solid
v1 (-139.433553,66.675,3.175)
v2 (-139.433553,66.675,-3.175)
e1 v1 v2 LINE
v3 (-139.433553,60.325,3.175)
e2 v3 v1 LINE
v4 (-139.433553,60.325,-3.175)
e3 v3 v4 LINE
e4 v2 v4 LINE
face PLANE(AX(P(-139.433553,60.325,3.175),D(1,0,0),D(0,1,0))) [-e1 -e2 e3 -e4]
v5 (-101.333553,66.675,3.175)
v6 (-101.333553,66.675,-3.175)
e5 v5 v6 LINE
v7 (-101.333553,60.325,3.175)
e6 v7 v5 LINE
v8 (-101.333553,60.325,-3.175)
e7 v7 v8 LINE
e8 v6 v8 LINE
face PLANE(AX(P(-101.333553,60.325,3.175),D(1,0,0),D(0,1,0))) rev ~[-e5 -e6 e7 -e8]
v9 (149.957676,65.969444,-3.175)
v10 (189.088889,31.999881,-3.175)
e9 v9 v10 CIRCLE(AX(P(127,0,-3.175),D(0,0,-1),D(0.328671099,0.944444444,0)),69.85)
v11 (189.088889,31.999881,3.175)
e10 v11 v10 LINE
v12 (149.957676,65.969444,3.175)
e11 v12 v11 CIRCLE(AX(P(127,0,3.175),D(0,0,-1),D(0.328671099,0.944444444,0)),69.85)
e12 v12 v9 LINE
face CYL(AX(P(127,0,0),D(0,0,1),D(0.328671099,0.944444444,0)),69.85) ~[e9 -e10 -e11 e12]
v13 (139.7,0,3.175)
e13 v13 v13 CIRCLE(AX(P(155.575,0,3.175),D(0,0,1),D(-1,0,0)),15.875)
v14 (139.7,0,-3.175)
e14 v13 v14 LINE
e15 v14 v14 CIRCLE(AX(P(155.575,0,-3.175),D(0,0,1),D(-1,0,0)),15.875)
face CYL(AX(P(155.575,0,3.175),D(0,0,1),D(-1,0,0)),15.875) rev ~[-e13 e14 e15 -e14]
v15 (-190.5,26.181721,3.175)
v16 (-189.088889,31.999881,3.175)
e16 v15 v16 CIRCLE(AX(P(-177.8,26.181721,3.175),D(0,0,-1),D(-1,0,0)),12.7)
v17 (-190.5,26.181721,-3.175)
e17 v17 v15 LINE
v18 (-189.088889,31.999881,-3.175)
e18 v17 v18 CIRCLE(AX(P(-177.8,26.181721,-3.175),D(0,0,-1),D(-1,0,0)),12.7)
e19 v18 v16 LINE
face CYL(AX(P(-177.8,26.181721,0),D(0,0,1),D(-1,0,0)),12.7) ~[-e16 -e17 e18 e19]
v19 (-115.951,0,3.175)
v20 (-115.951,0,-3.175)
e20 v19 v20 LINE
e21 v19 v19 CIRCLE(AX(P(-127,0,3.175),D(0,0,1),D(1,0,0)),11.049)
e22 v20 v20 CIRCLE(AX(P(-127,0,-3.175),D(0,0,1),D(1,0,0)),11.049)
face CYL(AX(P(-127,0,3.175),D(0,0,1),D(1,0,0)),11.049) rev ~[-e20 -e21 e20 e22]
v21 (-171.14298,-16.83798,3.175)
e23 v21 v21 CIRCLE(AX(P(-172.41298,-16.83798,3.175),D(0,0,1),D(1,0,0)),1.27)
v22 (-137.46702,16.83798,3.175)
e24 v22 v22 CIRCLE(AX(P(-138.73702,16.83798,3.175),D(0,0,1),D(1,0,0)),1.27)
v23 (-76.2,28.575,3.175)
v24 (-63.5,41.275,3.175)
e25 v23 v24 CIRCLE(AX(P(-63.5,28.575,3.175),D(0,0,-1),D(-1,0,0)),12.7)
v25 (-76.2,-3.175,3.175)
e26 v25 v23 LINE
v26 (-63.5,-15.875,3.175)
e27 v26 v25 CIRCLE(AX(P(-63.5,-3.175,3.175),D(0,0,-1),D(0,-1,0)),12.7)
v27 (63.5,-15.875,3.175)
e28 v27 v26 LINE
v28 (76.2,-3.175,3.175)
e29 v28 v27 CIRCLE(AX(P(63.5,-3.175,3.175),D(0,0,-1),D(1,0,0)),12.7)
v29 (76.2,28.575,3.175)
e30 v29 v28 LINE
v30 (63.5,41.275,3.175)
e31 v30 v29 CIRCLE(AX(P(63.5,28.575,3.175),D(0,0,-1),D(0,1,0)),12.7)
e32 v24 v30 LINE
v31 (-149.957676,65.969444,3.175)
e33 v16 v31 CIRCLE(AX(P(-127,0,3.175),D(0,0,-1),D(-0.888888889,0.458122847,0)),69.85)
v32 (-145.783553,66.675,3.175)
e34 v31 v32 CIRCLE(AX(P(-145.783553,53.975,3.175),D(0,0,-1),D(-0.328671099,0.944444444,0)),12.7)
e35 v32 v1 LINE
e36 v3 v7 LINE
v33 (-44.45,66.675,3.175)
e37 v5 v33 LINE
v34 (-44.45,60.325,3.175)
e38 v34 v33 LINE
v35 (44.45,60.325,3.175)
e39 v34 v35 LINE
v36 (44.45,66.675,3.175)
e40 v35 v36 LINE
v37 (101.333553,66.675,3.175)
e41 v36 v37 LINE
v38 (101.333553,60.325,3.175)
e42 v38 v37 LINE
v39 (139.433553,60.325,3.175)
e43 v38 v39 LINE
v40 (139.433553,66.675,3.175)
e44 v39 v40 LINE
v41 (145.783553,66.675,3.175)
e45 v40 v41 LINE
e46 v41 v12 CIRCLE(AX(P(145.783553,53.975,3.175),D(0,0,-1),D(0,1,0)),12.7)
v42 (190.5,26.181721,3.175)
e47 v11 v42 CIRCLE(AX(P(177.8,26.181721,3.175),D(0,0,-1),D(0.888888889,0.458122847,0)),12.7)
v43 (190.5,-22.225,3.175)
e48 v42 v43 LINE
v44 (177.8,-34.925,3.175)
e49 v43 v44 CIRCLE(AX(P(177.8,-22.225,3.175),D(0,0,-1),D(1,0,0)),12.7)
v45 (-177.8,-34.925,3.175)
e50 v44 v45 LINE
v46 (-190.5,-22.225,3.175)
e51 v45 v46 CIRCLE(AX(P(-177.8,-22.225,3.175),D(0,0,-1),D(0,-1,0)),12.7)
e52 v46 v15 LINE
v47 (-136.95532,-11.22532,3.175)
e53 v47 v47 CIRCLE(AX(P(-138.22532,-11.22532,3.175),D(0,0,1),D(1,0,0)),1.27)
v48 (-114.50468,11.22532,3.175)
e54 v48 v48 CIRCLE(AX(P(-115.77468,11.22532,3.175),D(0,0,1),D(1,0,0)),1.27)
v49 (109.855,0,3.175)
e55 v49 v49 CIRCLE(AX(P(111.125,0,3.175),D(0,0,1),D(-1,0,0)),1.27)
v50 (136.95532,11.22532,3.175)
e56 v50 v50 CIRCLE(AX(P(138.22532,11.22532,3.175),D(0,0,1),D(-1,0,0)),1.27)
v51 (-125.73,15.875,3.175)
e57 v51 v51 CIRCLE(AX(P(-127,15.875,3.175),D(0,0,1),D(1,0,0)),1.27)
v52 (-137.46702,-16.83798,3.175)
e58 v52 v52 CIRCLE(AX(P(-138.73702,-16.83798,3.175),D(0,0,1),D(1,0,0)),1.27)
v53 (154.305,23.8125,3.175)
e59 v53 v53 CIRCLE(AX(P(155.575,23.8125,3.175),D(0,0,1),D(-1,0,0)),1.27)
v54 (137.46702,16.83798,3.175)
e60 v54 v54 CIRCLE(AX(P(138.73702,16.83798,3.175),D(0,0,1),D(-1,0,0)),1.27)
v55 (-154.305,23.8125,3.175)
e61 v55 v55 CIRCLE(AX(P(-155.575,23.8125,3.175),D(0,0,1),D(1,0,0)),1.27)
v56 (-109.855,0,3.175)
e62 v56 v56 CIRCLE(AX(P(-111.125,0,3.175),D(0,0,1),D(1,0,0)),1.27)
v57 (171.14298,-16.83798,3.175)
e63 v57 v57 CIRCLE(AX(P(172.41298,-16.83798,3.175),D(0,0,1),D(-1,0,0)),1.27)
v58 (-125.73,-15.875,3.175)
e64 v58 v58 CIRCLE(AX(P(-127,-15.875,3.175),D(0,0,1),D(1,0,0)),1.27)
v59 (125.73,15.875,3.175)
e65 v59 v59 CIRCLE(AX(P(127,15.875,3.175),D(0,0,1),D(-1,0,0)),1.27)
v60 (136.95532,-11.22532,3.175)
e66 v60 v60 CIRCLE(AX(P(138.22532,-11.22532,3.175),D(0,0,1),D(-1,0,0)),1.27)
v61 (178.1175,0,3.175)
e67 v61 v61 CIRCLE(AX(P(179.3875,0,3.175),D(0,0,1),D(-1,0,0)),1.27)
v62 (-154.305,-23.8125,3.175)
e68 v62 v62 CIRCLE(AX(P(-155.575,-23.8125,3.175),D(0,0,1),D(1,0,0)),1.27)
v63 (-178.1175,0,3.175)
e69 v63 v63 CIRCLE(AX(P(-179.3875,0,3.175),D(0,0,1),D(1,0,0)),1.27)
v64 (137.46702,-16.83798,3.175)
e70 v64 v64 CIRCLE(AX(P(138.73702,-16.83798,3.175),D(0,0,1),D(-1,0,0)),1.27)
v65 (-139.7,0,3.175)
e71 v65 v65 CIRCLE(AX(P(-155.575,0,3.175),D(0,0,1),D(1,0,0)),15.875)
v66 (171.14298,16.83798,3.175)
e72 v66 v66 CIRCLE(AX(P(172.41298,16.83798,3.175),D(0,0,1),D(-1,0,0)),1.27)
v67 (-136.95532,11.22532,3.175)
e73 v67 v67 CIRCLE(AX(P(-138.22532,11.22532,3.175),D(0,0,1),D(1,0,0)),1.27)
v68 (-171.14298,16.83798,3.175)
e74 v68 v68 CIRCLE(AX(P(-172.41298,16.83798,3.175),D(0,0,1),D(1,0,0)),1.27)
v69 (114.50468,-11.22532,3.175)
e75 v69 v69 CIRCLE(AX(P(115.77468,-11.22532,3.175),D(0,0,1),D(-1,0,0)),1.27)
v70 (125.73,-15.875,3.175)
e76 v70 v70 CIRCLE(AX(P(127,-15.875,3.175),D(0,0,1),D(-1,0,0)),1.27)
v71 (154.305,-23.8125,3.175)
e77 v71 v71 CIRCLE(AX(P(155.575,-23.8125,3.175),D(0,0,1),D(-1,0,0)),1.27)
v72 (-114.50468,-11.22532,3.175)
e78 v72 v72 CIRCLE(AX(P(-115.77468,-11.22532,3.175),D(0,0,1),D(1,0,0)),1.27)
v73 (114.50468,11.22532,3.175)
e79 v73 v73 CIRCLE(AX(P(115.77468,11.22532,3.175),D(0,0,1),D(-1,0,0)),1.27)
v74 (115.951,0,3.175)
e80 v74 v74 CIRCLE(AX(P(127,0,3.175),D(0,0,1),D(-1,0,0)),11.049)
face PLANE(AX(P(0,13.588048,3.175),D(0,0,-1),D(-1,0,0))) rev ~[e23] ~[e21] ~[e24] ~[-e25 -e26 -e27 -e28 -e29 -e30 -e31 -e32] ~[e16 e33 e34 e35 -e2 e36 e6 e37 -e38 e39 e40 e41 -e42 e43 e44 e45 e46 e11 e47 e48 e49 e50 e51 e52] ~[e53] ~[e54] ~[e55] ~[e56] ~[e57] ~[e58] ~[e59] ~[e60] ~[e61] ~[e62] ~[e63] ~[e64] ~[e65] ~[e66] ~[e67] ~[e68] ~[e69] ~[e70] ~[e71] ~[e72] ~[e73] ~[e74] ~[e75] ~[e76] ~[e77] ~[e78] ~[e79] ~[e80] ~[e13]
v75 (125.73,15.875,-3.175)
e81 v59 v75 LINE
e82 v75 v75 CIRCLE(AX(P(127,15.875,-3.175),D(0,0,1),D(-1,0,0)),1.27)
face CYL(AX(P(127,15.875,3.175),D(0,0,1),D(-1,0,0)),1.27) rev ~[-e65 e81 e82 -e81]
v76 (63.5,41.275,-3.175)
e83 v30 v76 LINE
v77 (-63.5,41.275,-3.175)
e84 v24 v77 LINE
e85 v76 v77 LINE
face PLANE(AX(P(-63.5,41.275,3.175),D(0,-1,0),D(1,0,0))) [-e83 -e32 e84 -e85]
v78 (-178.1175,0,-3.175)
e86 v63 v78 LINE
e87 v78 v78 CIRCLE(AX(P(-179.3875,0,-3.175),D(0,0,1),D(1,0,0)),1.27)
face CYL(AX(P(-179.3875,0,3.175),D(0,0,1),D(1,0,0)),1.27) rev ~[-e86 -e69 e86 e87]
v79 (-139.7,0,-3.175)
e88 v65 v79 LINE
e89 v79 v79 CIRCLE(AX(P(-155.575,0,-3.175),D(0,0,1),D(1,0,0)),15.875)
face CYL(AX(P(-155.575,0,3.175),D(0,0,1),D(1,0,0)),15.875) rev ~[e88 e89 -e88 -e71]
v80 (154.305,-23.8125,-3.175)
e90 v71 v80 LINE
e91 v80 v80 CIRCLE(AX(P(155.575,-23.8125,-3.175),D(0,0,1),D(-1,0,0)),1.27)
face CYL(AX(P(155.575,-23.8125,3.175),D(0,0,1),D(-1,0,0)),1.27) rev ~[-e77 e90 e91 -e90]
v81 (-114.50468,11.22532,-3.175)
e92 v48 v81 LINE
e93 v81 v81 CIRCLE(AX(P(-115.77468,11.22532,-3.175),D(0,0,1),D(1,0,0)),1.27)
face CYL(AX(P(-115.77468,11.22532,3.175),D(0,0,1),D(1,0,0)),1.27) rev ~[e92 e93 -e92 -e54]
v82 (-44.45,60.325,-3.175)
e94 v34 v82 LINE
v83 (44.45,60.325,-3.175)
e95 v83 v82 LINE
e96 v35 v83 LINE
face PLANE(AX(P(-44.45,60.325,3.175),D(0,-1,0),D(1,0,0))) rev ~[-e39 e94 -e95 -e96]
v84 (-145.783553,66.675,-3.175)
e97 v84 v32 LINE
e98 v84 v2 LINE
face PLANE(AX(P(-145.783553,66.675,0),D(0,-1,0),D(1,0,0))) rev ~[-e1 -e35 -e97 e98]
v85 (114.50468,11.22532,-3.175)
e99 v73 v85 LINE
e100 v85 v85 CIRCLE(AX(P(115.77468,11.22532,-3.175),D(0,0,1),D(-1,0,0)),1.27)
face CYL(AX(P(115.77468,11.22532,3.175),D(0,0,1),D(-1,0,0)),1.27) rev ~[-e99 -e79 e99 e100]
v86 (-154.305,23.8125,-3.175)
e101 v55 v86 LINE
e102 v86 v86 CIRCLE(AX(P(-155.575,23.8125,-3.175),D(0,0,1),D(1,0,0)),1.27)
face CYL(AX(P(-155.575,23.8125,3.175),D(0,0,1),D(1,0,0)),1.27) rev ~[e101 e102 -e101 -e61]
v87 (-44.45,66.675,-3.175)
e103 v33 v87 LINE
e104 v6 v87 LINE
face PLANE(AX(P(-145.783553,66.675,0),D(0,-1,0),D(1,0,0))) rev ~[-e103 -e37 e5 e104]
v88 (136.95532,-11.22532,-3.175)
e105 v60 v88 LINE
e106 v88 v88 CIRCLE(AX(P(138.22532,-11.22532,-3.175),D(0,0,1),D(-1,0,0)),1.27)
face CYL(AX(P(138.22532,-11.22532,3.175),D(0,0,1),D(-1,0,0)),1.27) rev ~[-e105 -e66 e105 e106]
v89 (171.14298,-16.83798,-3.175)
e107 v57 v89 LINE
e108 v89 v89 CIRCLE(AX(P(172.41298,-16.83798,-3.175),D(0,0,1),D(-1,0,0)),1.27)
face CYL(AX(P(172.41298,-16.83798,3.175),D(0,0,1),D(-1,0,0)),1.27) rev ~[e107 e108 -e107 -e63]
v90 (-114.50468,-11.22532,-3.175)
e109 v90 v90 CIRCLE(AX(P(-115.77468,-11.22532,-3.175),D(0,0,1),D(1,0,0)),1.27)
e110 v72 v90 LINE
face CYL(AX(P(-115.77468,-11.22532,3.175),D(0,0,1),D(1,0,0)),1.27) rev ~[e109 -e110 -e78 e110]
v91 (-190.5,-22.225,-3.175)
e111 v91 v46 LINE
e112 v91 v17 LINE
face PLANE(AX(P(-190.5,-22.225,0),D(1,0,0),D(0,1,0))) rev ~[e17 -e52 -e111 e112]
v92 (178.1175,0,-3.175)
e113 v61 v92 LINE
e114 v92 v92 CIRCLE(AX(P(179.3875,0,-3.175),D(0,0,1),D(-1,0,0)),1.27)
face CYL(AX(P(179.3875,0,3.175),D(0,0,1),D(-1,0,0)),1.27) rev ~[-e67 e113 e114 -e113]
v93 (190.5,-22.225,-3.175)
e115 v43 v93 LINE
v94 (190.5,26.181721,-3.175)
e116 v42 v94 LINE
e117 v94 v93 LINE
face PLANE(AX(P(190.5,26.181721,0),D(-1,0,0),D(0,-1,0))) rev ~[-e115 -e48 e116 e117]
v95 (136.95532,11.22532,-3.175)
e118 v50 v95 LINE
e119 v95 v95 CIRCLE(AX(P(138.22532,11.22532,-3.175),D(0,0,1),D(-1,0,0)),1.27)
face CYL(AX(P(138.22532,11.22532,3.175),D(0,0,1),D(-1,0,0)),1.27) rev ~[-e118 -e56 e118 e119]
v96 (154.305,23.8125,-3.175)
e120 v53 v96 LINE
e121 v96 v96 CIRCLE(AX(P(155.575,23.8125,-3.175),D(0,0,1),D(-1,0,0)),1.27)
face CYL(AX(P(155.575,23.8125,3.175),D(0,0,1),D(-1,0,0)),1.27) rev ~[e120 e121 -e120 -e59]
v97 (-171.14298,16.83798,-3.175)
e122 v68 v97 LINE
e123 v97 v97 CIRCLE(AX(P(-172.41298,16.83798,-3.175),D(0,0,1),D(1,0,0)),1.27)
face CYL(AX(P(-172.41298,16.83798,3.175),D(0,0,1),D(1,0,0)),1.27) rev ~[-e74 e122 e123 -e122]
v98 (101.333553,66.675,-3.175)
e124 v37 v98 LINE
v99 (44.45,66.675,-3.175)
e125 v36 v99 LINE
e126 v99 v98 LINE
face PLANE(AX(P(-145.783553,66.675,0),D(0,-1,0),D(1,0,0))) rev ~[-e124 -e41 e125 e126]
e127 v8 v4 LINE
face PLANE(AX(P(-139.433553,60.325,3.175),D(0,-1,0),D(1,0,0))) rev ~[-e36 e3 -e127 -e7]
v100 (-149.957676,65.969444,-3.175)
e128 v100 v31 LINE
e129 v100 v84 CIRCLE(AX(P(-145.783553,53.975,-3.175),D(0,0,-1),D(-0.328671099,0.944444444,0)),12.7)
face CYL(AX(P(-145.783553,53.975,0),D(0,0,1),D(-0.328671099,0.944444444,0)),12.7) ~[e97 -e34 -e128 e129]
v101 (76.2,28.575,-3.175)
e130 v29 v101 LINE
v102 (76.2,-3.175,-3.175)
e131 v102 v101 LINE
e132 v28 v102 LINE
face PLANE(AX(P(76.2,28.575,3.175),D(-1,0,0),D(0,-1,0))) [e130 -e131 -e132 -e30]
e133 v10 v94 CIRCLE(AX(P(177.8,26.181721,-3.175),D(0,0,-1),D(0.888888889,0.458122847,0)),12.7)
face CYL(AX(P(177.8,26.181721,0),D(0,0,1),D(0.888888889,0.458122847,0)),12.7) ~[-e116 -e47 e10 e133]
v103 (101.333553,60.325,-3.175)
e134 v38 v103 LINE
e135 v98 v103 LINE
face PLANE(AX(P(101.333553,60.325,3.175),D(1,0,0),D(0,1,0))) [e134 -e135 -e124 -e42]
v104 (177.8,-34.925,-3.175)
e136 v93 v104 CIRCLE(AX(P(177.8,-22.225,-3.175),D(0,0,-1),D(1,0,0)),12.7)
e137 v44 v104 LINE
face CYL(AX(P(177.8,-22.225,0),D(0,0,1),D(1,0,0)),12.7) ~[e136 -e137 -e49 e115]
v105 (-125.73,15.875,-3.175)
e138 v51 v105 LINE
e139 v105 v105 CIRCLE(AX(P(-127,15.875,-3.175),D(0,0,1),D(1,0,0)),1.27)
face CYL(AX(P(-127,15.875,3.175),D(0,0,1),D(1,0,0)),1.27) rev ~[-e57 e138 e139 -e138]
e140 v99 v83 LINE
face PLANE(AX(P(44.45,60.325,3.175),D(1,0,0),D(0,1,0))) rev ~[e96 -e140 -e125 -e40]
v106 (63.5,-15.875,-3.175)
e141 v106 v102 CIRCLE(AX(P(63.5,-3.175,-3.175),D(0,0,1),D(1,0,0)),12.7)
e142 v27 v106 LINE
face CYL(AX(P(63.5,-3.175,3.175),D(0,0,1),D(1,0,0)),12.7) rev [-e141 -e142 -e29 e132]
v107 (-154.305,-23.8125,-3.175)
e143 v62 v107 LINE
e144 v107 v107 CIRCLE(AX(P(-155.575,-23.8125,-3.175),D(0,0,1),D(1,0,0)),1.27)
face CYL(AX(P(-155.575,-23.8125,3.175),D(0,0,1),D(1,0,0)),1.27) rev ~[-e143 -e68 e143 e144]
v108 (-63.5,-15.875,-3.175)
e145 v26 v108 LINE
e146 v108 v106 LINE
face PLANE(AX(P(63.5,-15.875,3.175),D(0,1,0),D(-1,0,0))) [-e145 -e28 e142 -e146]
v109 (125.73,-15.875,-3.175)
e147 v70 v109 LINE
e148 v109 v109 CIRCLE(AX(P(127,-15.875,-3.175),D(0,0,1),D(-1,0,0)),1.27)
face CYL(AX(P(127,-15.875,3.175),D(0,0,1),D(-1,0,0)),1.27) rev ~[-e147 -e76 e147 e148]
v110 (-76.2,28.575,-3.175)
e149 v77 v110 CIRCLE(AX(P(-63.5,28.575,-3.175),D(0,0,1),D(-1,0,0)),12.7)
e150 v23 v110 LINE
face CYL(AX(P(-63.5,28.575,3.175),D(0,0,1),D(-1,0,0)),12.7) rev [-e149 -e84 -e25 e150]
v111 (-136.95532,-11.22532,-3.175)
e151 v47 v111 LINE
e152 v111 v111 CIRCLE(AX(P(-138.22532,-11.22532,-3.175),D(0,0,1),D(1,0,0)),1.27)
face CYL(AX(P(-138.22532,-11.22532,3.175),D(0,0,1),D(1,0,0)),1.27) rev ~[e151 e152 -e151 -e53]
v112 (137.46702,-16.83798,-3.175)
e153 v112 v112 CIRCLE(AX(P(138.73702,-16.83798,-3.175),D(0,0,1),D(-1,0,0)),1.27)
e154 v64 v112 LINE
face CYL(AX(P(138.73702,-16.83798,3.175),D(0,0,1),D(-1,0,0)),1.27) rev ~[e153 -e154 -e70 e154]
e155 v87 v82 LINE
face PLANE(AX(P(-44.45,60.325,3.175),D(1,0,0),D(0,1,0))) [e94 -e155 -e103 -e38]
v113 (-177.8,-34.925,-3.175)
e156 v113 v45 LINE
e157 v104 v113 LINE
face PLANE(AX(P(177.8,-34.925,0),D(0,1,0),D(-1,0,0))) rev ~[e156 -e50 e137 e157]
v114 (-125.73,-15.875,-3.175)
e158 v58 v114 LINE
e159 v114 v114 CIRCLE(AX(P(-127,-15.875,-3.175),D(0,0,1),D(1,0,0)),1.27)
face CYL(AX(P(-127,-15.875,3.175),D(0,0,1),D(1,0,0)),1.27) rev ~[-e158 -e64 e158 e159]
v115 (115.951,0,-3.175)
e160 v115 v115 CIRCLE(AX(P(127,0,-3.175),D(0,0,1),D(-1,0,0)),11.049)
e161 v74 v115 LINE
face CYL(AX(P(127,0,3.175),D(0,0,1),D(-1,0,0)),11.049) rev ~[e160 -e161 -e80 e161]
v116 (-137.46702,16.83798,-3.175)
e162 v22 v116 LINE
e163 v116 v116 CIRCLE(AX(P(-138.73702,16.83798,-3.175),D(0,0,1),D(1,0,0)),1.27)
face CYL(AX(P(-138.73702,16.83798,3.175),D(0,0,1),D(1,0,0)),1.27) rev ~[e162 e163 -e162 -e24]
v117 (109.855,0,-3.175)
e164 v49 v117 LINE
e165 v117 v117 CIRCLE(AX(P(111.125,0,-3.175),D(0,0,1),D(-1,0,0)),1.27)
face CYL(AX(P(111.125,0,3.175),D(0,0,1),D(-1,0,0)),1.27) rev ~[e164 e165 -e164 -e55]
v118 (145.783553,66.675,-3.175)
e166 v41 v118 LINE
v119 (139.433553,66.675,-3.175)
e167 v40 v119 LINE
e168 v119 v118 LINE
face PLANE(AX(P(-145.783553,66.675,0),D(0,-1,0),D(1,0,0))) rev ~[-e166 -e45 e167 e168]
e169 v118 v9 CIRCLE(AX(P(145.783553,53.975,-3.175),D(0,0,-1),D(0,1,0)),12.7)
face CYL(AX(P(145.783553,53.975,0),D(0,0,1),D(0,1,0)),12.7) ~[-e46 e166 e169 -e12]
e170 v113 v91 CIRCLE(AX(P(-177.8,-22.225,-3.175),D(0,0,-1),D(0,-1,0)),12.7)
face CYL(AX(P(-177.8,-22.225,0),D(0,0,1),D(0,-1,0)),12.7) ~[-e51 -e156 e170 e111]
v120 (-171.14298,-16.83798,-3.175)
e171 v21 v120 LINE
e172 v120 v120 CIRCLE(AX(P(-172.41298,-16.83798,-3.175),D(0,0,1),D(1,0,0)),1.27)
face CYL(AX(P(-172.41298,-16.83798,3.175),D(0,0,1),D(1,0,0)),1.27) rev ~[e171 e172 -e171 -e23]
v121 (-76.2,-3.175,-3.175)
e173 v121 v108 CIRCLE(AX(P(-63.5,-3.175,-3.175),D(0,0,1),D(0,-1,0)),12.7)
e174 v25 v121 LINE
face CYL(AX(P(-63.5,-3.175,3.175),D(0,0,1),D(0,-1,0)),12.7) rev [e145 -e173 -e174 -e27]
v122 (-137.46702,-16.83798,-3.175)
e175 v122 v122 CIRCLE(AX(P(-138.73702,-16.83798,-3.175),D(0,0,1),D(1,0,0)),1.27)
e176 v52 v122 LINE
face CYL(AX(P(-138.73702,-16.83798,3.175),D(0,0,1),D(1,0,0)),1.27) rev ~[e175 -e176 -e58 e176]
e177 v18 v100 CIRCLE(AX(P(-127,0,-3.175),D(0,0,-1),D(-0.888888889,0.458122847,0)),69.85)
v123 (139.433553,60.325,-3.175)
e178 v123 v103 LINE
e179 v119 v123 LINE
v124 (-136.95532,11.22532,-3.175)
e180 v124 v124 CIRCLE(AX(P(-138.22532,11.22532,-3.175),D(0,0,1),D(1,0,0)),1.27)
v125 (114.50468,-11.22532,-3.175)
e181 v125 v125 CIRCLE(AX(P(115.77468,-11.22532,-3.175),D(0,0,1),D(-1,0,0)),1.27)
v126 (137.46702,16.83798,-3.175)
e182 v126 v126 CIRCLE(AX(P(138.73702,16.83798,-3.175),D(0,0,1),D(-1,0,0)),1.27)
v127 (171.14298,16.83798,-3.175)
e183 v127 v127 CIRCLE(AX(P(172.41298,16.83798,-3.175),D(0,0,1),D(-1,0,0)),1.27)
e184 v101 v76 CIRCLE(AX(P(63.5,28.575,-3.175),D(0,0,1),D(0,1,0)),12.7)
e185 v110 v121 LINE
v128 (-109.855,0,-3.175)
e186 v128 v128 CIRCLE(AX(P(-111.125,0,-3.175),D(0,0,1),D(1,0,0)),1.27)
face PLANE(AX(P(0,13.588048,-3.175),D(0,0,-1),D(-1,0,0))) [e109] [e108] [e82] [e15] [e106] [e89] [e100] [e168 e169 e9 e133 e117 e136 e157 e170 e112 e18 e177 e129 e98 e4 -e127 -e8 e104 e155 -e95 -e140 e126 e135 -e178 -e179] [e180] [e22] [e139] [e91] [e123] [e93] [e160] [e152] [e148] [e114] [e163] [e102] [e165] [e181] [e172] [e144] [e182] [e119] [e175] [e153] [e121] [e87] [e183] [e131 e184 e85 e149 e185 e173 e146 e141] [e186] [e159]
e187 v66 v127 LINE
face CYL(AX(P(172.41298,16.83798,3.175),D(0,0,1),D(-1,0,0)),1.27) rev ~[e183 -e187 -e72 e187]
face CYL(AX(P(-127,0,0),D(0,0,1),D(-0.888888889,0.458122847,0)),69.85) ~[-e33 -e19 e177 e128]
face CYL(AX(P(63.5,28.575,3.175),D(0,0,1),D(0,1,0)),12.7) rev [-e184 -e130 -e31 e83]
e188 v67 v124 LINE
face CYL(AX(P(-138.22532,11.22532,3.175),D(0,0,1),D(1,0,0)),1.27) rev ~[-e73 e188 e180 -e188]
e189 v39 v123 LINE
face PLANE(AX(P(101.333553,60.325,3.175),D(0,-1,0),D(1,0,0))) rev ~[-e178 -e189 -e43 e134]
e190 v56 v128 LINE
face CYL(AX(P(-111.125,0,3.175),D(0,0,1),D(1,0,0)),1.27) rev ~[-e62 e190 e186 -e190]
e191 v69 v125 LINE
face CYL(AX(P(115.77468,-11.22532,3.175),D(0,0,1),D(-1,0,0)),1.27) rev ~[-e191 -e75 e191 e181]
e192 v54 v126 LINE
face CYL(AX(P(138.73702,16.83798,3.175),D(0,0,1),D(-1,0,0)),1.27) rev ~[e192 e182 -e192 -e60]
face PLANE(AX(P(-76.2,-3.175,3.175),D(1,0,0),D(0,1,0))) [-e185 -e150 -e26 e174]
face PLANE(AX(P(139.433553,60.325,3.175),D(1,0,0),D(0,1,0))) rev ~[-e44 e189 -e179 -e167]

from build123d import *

# Parameters (mm, degrees)
SKETCH1_R           = 3.175
BOSS_EXTRUDE1_DEPTH = 3.175
SKETCH2_R           = 11.049
SKETCH2_R_2         = 15.875
SKETCH2_R_3         = 1.27
CUT_EXTRUDE1_DEPTH  = 202.930998425
SKETCH3_W           = 38.1
SKETCH3_H           = 6.35
SKETCH3_W_2         = 88.9
CUT_EXTRUDE4_DEPTH  = 202.930998425
CUT_EXTRUDE5_DEPTH  = 202.930998425


with BuildPart() as part:
    # Sketch1 → Boss-Extrude1 (new, symmetric)
    with BuildSketch(Plane.XY):
        with BuildLine():
            Line((-145.783553311, 66.675), (145.783553311, 66.675))
            ThreePointArc((145.783553311, 66.675), (147.900219978, 66.497368874), (149.957676269, 65.969444444))
            ThreePointArc((149.957676269, 65.969444444), (172.789871953, 52.74760778), (189.088888889, 31.999880883))
            ThreePointArc((189.088888889, 31.999880883), (190.142181511, 29.17513943), (190.5, 26.181720723))
            Line((190.5, 26.181720723), (190.5, -22.225))
            ThreePointArc((190.5, -22.225), (186.780256121, -31.205256121), (177.8, -34.925))
            Line((177.8, -34.925), (-177.8, -34.925))
            ThreePointArc((-177.8, -34.925), (-186.780256121, -31.205256121), (-190.5, -22.225))
            Line((-190.5, -22.225), (-190.5, 26.181720723))
            ThreePointArc((-190.5, 26.181720723), (-190.142181511, 29.17513943), (-189.088888889, 31.999880883))
            ThreePointArc((-189.088888889, 31.999880883), (-172.789871953, 52.74760778), (-149.957676269, 65.969444444))
            ThreePointArc((-149.957676269, 65.969444444), (-147.900219978, 66.497368874), (-145.783553311, 66.675))
        make_face()
        with Locations((-127, 0)):
            Circle(SKETCH1_R, mode=Mode.SUBTRACT)
        with Locations((127, 0)):
            Circle(SKETCH1_R, mode=Mode.SUBTRACT)
    extrude(amount=BOSS_EXTRUDE1_DEPTH, both=True)

    # Sketch2 → Cut-Extrude1 (cut, through all)
    with BuildSketch(Plane.XY.offset(3.175)):
        with Locations((-127, 0)):
            Circle(SKETCH2_R)
        with Locations((-155.575, 0)):
            Circle(SKETCH2_R_2)
        with Locations((-155.575, 23.8125)):
            Circle(SKETCH2_R_3)
        with Locations((-138.737019773, 16.837980227)):
            Circle(SKETCH2_R_3)
        with Locations((-138.737019773, -16.837980227)):
            Circle(SKETCH2_R_3)
        with Locations((-155.575, -23.8125)):
            Circle(SKETCH2_R_3)
        with Locations((-172.412980227, -16.837980227)):
            Circle(SKETCH2_R_3)
        with Locations((-179.3875, 0)):
            Circle(SKETCH2_R_3)
        with Locations((-172.412980227, 16.837980227)):
            Circle(SKETCH2_R_3)
        with Locations((-127, 15.875)):
            Circle(SKETCH2_R_3)
        with Locations((-115.774679849, 11.225320151)):
            Circle(SKETCH2_R_3)
        with Locations((-111.125, 0)):
            Circle(SKETCH2_R_3)
        with Locations((-115.774679849, -11.225320151)):
            Circle(SKETCH2_R_3)
        with Locations((-127, -15.875)):
            Circle(SKETCH2_R_3)
        with Locations((-138.225320151, -11.225320151)):
            Circle(SKETCH2_R_3)
        with Locations(Location((138.225320151, 11.225320151, 0), (0, 0, 180))):
            Circle(SKETCH2_R_3)
        with Locations((-138.225320151, 11.225320151)):
            Circle(SKETCH2_R_3)
        with Locations(Location((138.225320151, -11.225320151, 0), (0, 0, 180))):
            Circle(SKETCH2_R_3)
        with Locations(Location((127, -15.875, 0), (0, 0, 180))):
            Circle(SKETCH2_R_3)
        with Locations(Location((115.774679849, -11.225320151, 0), (0, 0, 180))):
            Circle(SKETCH2_R_3)
        with Locations(Location((111.125, 0, 0), (0, 0, 180))):
            Circle(SKETCH2_R_3)
        with Locations(Location((115.774679849, 11.225320151, 0), (0, 0, 180))):
            Circle(SKETCH2_R_3)
        with Locations(Location((127, 15.875, 0), (0, 0, 180))):
            Circle(SKETCH2_R_3)
        with Locations(Location((172.412980227, 16.837980227, 0), (0, 0, 180))):
            Circle(SKETCH2_R_3)
        with Locations(Location((179.3875, 0, 0), (0, 0, 180))):
            Circle(SKETCH2_R_3)
        with Locations(Location((172.412980227, -16.837980227, 0), (0, 0, 180))):
            Circle(SKETCH2_R_3)
        with Locations(Location((155.575, -23.8125, 0), (0, 0, 180))):
            Circle(SKETCH2_R_3)
        with Locations(Location((138.737019773, -16.837980227, 0), (0, 0, 180))):
            Circle(SKETCH2_R_3)
        with Locations(Location((138.737019773, 16.837980227, 0), (0, 0, 180))):
            Circle(SKETCH2_R_3)
        with Locations(Location((155.575, 23.8125, 0), (0, 0, 180))):
            Circle(SKETCH2_R_3)
        with Locations(Location((155.575, 0, 0), (0, 0, 180))):
            Circle(SKETCH2_R_2)
        with Locations(Location((127, 0, 0), (0, 0, 180))):
            Circle(SKETCH2_R)
    extrude(amount=-CUT_EXTRUDE1_DEPTH, mode=Mode.SUBTRACT)

    # Sketch3 → Cut-Extrude4 (cut, through all)
    with BuildSketch(Plane.XY.offset(3.175)):
        with Locations((-120.383553311, 63.5)):
            Rectangle(SKETCH3_W, SKETCH3_H)
        with Locations((120.383553311, 63.5)):
            Rectangle(SKETCH3_W, SKETCH3_H)
        with Locations((0, 63.5)):
            Rectangle(SKETCH3_W_2, SKETCH3_H)
    extrude(amount=-CUT_EXTRUDE4_DEPTH, mode=Mode.SUBTRACT)

    # Sketch4 → Cut-Extrude5 (cut, through all)
    with BuildSketch(Plane.XY.offset(3.175)):
        with BuildLine():
            Line((-63.5, 41.275), (63.5, 41.275))
            ThreePointArc((63.5, 41.275), (72.480256121, 37.555256121), (76.2, 28.575))
            Line((76.2, 28.575), (76.2, -3.175))
            ThreePointArc((76.2, -3.175), (72.480256121, -12.155256121), (63.5, -15.875))
            Line((63.5, -15.875), (-63.5, -15.875))
            ThreePointArc((-63.5, -15.875), (-72.480256121, -12.155256121), (-76.2, -3.175))
            Line((-76.2, -3.175), (-76.2, 28.575))
            ThreePointArc((-76.2, 28.575), (-72.480256121, 37.555256121), (-63.5, 41.275))
        make_face()
    extrude(amount=-CUT_EXTRUDE5_DEPTH, mode=Mode.SUBTRACT)


solid = part.part
